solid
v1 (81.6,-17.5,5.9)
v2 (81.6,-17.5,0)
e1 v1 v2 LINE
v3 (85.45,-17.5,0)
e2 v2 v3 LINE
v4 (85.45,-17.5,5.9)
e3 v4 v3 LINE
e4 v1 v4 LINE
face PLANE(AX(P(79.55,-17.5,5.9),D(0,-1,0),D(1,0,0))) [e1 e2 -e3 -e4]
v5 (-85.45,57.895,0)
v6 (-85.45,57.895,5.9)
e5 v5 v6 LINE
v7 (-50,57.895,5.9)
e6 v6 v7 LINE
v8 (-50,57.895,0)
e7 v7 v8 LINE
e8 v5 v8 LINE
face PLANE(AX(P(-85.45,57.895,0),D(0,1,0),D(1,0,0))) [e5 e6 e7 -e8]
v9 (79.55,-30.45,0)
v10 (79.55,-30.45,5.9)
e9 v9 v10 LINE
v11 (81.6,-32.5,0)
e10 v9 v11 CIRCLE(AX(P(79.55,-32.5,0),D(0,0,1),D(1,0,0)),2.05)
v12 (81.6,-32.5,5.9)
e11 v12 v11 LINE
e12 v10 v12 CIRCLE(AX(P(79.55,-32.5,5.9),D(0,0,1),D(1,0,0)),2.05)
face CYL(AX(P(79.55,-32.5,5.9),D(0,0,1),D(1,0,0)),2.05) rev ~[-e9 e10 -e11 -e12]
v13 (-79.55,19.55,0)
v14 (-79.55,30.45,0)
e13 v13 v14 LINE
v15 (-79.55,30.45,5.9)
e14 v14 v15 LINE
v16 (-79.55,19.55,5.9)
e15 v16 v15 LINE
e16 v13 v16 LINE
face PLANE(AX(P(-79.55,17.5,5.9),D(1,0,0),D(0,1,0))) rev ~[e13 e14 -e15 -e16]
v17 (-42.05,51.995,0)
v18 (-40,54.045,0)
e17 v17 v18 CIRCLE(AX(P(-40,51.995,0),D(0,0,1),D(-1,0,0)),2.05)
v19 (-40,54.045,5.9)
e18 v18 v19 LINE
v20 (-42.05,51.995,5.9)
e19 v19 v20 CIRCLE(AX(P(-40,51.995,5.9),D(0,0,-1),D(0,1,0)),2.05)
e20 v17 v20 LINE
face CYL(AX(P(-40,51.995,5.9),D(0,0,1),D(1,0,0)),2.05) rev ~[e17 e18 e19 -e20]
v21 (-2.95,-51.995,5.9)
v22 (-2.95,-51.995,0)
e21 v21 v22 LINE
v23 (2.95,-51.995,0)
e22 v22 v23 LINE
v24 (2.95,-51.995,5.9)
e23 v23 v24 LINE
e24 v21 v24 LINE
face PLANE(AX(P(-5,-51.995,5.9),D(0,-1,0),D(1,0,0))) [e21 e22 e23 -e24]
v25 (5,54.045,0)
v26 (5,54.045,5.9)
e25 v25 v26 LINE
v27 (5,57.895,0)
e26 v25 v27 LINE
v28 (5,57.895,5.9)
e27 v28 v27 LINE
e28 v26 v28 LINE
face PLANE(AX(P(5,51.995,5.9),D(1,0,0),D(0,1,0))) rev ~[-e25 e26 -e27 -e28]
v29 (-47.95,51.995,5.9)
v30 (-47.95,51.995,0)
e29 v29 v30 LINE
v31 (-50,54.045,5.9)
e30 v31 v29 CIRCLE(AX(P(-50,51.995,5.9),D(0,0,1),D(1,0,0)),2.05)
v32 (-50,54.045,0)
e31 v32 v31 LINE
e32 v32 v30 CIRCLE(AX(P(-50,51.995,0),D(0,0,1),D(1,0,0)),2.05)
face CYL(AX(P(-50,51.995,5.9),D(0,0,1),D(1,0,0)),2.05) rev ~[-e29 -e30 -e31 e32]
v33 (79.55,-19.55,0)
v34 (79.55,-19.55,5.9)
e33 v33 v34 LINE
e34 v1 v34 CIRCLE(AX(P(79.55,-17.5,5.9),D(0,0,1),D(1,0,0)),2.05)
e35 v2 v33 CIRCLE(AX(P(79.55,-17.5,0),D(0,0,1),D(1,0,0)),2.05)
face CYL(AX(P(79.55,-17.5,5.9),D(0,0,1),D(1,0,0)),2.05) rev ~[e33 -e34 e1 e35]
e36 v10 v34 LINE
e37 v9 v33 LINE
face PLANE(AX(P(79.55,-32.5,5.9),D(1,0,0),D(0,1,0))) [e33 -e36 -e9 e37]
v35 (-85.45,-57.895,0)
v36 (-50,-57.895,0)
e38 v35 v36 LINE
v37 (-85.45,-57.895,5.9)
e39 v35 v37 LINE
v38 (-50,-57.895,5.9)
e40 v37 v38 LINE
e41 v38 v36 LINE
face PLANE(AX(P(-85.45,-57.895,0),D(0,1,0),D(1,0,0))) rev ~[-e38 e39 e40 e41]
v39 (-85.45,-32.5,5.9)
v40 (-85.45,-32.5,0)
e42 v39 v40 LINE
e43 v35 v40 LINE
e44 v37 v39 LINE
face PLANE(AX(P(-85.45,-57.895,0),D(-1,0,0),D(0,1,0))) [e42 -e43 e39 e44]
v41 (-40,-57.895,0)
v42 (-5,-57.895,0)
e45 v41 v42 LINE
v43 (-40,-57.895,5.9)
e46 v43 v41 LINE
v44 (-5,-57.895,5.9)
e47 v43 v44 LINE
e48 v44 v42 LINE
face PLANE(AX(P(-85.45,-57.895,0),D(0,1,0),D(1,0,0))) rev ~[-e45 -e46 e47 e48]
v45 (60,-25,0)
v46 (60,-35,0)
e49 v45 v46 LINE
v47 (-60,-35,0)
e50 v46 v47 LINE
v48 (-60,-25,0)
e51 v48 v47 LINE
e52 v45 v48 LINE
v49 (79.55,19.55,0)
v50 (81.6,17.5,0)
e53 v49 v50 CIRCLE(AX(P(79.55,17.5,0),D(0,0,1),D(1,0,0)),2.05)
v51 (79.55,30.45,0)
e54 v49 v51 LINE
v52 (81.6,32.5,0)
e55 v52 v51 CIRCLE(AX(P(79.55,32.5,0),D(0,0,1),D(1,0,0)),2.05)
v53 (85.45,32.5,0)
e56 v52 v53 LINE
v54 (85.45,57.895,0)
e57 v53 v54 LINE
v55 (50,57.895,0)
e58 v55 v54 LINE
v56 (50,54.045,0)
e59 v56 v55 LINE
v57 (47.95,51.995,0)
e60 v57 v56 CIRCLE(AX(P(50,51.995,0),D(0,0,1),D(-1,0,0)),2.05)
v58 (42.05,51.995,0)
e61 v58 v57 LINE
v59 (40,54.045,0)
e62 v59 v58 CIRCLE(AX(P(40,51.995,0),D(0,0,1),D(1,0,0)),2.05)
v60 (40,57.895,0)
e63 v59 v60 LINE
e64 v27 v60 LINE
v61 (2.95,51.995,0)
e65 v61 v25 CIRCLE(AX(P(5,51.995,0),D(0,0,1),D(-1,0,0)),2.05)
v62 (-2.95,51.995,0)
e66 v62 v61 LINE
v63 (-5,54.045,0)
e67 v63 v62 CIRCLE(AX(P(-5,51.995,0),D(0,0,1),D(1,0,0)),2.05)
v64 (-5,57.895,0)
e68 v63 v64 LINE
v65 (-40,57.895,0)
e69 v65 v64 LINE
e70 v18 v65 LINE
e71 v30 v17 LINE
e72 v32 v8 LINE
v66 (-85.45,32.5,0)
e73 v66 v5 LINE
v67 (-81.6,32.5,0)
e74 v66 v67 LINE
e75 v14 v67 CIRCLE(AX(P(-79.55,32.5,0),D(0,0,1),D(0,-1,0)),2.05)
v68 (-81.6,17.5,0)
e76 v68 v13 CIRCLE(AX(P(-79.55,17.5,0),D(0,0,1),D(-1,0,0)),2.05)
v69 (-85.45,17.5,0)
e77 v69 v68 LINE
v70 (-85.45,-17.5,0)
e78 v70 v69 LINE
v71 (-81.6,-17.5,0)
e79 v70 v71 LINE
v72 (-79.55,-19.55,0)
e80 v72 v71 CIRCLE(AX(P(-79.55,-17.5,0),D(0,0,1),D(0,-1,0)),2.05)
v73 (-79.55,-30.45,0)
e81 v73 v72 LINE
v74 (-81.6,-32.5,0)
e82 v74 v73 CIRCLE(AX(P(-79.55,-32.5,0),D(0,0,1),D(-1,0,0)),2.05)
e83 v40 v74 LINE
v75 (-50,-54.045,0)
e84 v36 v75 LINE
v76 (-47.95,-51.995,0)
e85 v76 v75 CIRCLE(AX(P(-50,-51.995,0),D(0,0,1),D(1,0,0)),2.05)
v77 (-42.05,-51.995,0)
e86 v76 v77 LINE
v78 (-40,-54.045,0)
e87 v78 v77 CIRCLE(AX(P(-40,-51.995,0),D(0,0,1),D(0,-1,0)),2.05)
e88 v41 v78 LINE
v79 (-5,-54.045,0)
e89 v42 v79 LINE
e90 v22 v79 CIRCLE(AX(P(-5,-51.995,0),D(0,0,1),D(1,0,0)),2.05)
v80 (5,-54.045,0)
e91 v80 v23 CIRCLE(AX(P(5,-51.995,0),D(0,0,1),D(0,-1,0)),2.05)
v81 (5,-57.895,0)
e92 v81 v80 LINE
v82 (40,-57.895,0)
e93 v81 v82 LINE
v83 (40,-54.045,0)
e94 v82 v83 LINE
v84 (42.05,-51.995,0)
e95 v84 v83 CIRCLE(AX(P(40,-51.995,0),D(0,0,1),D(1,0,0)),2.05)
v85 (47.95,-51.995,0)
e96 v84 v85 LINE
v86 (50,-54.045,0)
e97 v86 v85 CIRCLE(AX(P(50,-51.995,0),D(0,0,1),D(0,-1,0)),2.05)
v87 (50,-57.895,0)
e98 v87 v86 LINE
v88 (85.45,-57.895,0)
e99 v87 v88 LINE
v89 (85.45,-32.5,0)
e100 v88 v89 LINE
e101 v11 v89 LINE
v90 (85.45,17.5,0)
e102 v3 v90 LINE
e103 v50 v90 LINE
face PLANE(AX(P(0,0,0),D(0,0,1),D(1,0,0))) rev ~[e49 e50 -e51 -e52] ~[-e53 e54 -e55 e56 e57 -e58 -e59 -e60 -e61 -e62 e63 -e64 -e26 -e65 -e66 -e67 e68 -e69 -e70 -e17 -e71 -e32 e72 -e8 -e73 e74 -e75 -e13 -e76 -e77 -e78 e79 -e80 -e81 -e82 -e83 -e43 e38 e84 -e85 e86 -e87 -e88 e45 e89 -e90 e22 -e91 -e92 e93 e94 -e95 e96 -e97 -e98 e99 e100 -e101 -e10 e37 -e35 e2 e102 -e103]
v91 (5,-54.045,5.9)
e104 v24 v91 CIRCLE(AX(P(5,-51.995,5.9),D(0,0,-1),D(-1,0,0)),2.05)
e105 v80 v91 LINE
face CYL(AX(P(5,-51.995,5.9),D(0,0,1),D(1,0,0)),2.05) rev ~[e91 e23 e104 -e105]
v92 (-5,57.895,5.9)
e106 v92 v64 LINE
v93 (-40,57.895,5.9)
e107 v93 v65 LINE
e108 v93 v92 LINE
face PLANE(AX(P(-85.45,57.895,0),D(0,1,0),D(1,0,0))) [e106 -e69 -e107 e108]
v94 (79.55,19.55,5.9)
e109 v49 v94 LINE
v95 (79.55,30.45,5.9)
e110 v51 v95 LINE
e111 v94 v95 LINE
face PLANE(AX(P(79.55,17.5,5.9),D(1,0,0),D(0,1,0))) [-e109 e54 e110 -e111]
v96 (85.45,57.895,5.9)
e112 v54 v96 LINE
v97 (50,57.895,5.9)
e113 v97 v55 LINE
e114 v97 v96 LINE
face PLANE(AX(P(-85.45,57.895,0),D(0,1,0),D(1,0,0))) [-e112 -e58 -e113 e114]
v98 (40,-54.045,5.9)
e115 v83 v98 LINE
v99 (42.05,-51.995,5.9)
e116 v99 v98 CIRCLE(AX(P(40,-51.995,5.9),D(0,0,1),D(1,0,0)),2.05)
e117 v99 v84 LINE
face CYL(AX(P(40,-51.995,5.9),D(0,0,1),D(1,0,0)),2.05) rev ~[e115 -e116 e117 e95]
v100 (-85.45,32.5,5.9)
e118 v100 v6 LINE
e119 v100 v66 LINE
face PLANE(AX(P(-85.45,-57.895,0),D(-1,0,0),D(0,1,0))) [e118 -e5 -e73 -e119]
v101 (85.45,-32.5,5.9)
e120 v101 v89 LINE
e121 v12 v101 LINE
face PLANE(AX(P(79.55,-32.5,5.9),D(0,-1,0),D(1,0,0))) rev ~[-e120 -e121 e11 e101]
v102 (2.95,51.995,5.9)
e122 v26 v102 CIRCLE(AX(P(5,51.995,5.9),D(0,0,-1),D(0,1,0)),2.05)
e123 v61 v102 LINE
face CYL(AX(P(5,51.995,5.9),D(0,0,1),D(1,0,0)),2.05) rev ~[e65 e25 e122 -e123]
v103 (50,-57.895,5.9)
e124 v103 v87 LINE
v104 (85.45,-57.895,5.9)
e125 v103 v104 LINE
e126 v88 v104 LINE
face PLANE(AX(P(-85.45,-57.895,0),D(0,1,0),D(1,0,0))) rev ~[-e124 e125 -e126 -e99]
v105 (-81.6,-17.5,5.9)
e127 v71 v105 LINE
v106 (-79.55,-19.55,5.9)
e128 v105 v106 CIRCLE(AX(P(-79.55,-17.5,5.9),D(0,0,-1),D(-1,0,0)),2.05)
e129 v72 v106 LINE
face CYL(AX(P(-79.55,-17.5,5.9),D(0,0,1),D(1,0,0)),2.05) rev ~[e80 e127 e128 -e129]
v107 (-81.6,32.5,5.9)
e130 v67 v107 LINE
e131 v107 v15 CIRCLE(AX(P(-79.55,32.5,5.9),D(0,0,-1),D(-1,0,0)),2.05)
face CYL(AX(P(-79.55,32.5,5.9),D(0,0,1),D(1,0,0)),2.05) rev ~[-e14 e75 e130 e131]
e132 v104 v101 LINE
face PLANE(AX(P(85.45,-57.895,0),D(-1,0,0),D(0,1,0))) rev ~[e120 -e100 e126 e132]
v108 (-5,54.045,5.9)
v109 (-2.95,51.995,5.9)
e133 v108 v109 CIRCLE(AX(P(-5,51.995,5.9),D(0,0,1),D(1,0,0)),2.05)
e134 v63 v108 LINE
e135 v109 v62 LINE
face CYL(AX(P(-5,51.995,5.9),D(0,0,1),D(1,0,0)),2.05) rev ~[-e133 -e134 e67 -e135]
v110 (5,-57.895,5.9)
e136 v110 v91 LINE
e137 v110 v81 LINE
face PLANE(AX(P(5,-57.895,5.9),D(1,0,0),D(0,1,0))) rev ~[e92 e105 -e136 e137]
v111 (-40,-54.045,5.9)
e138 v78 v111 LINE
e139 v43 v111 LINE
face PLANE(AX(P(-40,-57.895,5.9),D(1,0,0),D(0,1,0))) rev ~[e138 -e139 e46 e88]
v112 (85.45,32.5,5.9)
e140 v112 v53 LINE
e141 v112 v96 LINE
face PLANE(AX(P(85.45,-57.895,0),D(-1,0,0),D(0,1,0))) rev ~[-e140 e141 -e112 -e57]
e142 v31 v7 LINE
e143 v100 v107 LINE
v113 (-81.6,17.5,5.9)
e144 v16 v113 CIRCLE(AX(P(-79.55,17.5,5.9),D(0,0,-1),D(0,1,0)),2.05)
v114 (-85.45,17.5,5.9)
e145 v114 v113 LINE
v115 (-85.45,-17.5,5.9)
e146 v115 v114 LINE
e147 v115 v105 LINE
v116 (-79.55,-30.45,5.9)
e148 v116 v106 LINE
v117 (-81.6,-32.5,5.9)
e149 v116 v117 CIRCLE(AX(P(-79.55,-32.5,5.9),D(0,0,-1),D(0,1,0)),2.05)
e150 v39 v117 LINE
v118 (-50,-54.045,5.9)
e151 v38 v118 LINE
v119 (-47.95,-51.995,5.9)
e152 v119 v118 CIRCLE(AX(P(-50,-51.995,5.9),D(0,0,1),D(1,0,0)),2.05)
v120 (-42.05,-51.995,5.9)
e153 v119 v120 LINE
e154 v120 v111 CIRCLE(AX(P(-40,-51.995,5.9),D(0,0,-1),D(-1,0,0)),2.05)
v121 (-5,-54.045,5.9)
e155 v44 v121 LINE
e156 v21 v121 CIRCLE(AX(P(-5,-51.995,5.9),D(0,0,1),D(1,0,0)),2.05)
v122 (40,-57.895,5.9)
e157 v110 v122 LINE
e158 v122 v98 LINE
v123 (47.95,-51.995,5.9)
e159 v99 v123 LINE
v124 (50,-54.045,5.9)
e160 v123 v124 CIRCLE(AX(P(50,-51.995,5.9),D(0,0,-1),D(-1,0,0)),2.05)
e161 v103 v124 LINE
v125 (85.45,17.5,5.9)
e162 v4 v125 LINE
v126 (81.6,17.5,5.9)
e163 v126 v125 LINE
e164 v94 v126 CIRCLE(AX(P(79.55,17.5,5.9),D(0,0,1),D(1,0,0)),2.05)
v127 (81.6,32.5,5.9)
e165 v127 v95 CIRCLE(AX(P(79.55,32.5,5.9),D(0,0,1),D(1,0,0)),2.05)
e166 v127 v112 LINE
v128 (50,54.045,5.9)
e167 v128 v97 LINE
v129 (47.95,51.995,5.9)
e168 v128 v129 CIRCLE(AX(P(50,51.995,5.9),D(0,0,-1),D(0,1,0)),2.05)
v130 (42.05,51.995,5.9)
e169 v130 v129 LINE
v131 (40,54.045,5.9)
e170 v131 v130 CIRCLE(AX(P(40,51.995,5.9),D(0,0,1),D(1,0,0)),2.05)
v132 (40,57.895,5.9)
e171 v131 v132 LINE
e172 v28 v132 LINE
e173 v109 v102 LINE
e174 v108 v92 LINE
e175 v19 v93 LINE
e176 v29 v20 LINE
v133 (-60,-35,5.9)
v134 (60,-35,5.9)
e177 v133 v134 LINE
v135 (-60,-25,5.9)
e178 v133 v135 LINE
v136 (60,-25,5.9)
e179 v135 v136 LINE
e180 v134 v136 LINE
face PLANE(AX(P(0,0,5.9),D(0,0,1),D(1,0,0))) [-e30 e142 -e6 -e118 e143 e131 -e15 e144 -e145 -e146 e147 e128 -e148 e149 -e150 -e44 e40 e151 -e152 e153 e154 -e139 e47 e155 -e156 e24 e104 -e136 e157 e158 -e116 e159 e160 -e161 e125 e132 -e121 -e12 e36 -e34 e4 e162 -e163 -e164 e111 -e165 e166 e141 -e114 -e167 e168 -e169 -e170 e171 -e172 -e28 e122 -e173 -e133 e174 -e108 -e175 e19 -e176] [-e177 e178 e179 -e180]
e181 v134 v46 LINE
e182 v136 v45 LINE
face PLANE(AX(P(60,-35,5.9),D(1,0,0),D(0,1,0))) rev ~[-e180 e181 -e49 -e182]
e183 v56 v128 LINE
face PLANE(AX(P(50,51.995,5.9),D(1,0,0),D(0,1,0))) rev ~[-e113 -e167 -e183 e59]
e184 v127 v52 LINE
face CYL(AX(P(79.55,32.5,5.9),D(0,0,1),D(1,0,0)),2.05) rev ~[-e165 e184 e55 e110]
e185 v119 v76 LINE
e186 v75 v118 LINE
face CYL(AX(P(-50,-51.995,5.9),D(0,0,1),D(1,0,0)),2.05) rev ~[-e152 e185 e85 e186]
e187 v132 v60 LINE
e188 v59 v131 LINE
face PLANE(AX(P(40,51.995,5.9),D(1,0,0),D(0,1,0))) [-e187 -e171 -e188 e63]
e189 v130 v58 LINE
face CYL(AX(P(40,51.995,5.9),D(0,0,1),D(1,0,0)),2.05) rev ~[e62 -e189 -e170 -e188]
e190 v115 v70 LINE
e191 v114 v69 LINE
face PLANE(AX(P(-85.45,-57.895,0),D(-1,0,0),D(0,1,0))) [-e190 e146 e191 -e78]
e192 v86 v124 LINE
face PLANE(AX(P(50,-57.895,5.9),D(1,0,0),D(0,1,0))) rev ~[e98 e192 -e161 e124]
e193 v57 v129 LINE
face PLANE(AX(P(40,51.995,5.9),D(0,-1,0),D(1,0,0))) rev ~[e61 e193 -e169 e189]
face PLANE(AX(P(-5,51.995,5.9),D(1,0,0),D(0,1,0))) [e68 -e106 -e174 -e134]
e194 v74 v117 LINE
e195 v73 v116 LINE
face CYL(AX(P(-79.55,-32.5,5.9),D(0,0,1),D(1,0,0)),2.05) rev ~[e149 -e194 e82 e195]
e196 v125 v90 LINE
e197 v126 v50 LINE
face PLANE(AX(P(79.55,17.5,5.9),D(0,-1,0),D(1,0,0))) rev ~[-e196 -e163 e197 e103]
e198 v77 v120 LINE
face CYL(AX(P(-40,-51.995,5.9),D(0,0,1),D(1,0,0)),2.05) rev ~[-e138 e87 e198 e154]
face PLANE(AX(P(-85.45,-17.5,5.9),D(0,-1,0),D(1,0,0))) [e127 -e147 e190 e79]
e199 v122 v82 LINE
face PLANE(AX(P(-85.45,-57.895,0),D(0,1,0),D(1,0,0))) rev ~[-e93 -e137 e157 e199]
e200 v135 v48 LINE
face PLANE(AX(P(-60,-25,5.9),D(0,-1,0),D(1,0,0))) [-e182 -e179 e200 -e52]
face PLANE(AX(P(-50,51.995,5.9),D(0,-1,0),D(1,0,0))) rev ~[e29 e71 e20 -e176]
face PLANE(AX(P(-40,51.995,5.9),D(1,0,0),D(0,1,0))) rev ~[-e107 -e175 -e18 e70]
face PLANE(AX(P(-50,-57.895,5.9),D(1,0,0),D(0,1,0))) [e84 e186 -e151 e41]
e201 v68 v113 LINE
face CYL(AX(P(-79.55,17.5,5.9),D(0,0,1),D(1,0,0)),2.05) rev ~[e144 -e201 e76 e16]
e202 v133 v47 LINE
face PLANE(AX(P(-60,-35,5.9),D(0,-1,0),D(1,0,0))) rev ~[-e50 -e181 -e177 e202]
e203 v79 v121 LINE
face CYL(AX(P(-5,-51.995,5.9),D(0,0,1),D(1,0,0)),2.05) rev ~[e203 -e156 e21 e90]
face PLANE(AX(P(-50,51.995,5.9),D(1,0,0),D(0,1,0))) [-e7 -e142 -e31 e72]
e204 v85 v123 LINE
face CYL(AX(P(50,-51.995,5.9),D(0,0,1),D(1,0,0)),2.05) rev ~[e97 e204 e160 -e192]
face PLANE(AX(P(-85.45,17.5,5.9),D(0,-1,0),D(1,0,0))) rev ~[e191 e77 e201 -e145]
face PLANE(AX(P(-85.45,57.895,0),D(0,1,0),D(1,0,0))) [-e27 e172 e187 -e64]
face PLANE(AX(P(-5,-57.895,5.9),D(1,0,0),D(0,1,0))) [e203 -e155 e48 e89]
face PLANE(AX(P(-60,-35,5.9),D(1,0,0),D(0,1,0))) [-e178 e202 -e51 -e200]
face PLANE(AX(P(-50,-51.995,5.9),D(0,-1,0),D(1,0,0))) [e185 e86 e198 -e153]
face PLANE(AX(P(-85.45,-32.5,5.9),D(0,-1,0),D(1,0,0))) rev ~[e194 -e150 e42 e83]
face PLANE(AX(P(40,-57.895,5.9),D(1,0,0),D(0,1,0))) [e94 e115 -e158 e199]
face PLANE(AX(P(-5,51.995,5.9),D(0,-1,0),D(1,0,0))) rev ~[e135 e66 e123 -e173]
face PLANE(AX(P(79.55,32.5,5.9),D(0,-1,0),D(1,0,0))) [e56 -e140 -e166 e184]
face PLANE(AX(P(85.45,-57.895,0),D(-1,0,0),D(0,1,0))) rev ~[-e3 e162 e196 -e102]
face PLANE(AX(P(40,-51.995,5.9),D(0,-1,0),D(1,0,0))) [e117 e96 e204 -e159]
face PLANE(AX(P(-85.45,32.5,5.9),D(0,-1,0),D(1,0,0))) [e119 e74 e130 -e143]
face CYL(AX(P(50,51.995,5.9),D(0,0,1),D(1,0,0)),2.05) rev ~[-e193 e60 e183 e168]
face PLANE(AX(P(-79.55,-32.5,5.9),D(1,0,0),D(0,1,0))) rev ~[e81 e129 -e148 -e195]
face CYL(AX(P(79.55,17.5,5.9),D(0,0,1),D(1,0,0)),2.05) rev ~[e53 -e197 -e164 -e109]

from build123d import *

# Parameters (mm, degrees)
SKETCH1_W           = 170.9
SKETCH1_H           = 115.79
BOSS_EXTRUDE1_DEPTH = 5.9
SKETCH2_W           = 5.9
SKETCH2_H           = 15
SKETCH2_W_2         = 10
SKETCH2_H_2         = 5.9
CUT_EXTRUDE1_DEPTH  = 6.9
CUT_EXTRUDE2_REACH  = 7.9
SKETCH4_W           = 120
SKETCH4_H           = 10
CUT_EXTRUDE3_REACH  = 7.9
SKETCH5_R           = 2.05


with BuildPart() as part:
    # Sketch1 → Boss-Extrude1 (new body)
    with BuildSketch(Plane.XY):
        Rectangle(SKETCH1_W, SKETCH1_H)
    extrude(amount=BOSS_EXTRUDE1_DEPTH)

    # Sketch2 → Cut-Extrude1 (cut, through all)
    with BuildSketch(Plane.XY.offset(5.9)):
        with Locations((-82.5, 25)):
            Rectangle(SKETCH2_W, SKETCH2_H)
        with Locations((-82.5, -25)):
            Rectangle(SKETCH2_W, SKETCH2_H)
        with Locations((82.5, -25)):
            Rectangle(SKETCH2_W, SKETCH2_H)
        with Locations((82.5, 25)):
            Rectangle(SKETCH2_W, SKETCH2_H)
        with Locations((-45, 54.945)):
            Rectangle(SKETCH2_W_2, SKETCH2_H_2)
        with Locations((0, 54.945)):
            Rectangle(SKETCH2_W_2, SKETCH2_H_2)
        with Locations((45, 54.945)):
            Rectangle(SKETCH2_W_2, SKETCH2_H_2)
        with Locations((45, -54.945)):
            Rectangle(SKETCH2_W_2, SKETCH2_H_2)
        with Locations((0, -54.945)):
            Rectangle(SKETCH2_W_2, SKETCH2_H_2)
        with Locations((-45, -54.945)):
            Rectangle(SKETCH2_W_2, SKETCH2_H_2)
    extrude(amount=-CUT_EXTRUDE1_DEPTH, mode=Mode.SUBTRACT)

    # Sketch4 → Cut-Extrude2 (cut, up to next)
    with BuildSketch(Plane.XY.offset(5.9), mode=Mode.PRIVATE) as cut_extrude2_sk1:
        with Locations((0, -30)):
            Rectangle(SKETCH4_W, SKETCH4_H)
    cut_extrude2_tool1 = extrude(cut_extrude2_sk1.sketch, amount=-CUT_EXTRUDE2_REACH, mode=Mode.PRIVATE) & part.part
    add(cut_extrude2_tool1.solids().sort_by_distance((0, -30, 5.9))[0], mode=Mode.SUBTRACT)

    # Sketch5 → Cut-Extrude3 (cut, up to next)
    with BuildSketch(Plane.XY.offset(5.9), mode=Mode.PRIVATE) as cut_extrude3_sk1:
        with Locations((-50, 51.995)):
            Circle(SKETCH5_R)
    cut_extrude3_tool1 = extrude(cut_extrude3_sk1.sketch, amount=-CUT_EXTRUDE3_REACH, mode=Mode.PRIVATE) & part.part
    add(cut_extrude3_tool1.solids().sort_by_distance((-50, 51.995, 5.9))[0], mode=Mode.SUBTRACT)
    # Sketch5 → Cut-Extrude3 (cut, up to next)
    with BuildSketch(Plane.XY.offset(5.9), mode=Mode.PRIVATE) as cut_extrude3_sk2:
        with Locations((-40, 51.995)):
            Circle(SKETCH5_R)
    cut_extrude3_tool2 = extrude(cut_extrude3_sk2.sketch, amount=-CUT_EXTRUDE3_REACH, mode=Mode.PRIVATE) & part.part
    add(cut_extrude3_tool2.solids().sort_by_distance((-40, 51.995, 5.9))[0], mode=Mode.SUBTRACT)
    # Sketch5 → Cut-Extrude3 (cut, up to next)
    with BuildSketch(Plane.XY.offset(5.9), mode=Mode.PRIVATE) as cut_extrude3_sk3:
        with Locations((-5, 51.995)):
            Circle(SKETCH5_R)
    cut_extrude3_tool3 = extrude(cut_extrude3_sk3.sketch, amount=-CUT_EXTRUDE3_REACH, mode=Mode.PRIVATE) & part.part
    add(cut_extrude3_tool3.solids().sort_by_distance((-5, 51.995, 5.9))[0], mode=Mode.SUBTRACT)
    # Sketch5 → Cut-Extrude3 (cut, up to next)
    with BuildSketch(Plane.XY.offset(5.9), mode=Mode.PRIVATE) as cut_extrude3_sk4:
        with Locations((5, 51.995)):
            Circle(SKETCH5_R)
    cut_extrude3_tool4 = extrude(cut_extrude3_sk4.sketch, amount=-CUT_EXTRUDE3_REACH, mode=Mode.PRIVATE) & part.part
    add(cut_extrude3_tool4.solids().sort_by_distance((5, 51.995, 5.9))[0], mode=Mode.SUBTRACT)
    # Sketch5 → Cut-Extrude3 (cut, up to next)
    with BuildSketch(Plane.XY.offset(5.9), mode=Mode.PRIVATE) as cut_extrude3_sk5:
        with Locations((40, 51.995)):
            Circle(SKETCH5_R)
    cut_extrude3_tool5 = extrude(cut_extrude3_sk5.sketch, amount=-CUT_EXTRUDE3_REACH, mode=Mode.PRIVATE) & part.part
    add(cut_extrude3_tool5.solids().sort_by_distance((40, 51.995, 5.9))[0], mode=Mode.SUBTRACT)
    # Sketch5 → Cut-Extrude3 (cut, up to next)
    with BuildSketch(Plane.XY.offset(5.9), mode=Mode.PRIVATE) as cut_extrude3_sk6:
        with Locations((50, 51.995)):
            Circle(SKETCH5_R)
    cut_extrude3_tool6 = extrude(cut_extrude3_sk6.sketch, amount=-CUT_EXTRUDE3_REACH, mode=Mode.PRIVATE) & part.part
    add(cut_extrude3_tool6.solids().sort_by_distance((50, 51.995, 5.9))[0], mode=Mode.SUBTRACT)
    # Sketch5 → Cut-Extrude3 (cut, up to next)
    with BuildSketch(Plane.XY.offset(5.9), mode=Mode.PRIVATE) as cut_extrude3_sk7:
        with Locations((79.55, 32.5)):
            Circle(SKETCH5_R)
    cut_extrude3_tool7 = extrude(cut_extrude3_sk7.sketch, amount=-CUT_EXTRUDE3_REACH, mode=Mode.PRIVATE) & part.part
    add(cut_extrude3_tool7.solids().sort_by_distance((79.55, 32.5, 5.9))[0], mode=Mode.SUBTRACT)
    # Sketch5 → Cut-Extrude3 (cut, up to next)
    with BuildSketch(Plane.XY.offset(5.9), mode=Mode.PRIVATE) as cut_extrude3_sk8:
        with Locations((79.55, 17.5)):
            Circle(SKETCH5_R)
    cut_extrude3_tool8 = extrude(cut_extrude3_sk8.sketch, amount=-CUT_EXTRUDE3_REACH, mode=Mode.PRIVATE) & part.part
    add(cut_extrude3_tool8.solids().sort_by_distance((79.55, 17.5, 5.9))[0], mode=Mode.SUBTRACT)
    # Sketch5 → Cut-Extrude3 (cut, up to next)
    with BuildSketch(Plane.XY.offset(5.9), mode=Mode.PRIVATE) as cut_extrude3_sk9:
        with Locations((79.55, -17.5)):
            Circle(SKETCH5_R)
    cut_extrude3_tool9 = extrude(cut_extrude3_sk9.sketch, amount=-CUT_EXTRUDE3_REACH, mode=Mode.PRIVATE) & part.part
    add(cut_extrude3_tool9.solids().sort_by_distance((79.55, -17.5, 5.9))[0], mode=Mode.SUBTRACT)
    # Sketch5 → Cut-Extrude3 (cut, up to next)
    with BuildSketch(Plane.XY.offset(5.9), mode=Mode.PRIVATE) as cut_extrude3_sk10:
        with Locations((79.55, -32.5)):
            Circle(SKETCH5_R)
    cut_extrude3_tool10 = extrude(cut_extrude3_sk10.sketch, amount=-CUT_EXTRUDE3_REACH, mode=Mode.PRIVATE) & part.part
    add(cut_extrude3_tool10.solids().sort_by_distance((79.55, -32.5, 5.9))[0], mode=Mode.SUBTRACT)
    # Sketch5 → Cut-Extrude3 (cut, up to next)
    with BuildSketch(Plane.XY.offset(5.9), mode=Mode.PRIVATE) as cut_extrude3_sk11:
        with Locations((-40, -51.995)):
            Circle(SKETCH5_R)
    cut_extrude3_tool11 = extrude(cut_extrude3_sk11.sketch, amount=-CUT_EXTRUDE3_REACH, mode=Mode.PRIVATE) & part.part
    add(cut_extrude3_tool11.solids().sort_by_distance((-40, -51.995, 5.9))[0], mode=Mode.SUBTRACT)
    # Sketch5 → Cut-Extrude3 (cut, up to next)
    with BuildSketch(Plane.XY.offset(5.9), mode=Mode.PRIVATE) as cut_extrude3_sk12:
        with Locations((-5, -51.995)):
            Circle(SKETCH5_R)
    cut_extrude3_tool12 = extrude(cut_extrude3_sk12.sketch, amount=-CUT_EXTRUDE3_REACH, mode=Mode.PRIVATE) & part.part
    add(cut_extrude3_tool12.solids().sort_by_distance((-5, -51.995, 5.9))[0], mode=Mode.SUBTRACT)
    # Sketch5 → Cut-Extrude3 (cut, up to next)
    with BuildSketch(Plane.XY.offset(5.9), mode=Mode.PRIVATE) as cut_extrude3_sk13:
        with Locations((5, -51.995)):
            Circle(SKETCH5_R)
    cut_extrude3_tool13 = extrude(cut_extrude3_sk13.sketch, amount=-CUT_EXTRUDE3_REACH, mode=Mode.PRIVATE) & part.part
    add(cut_extrude3_tool13.solids().sort_by_distance((5, -51.995, 5.9))[0], mode=Mode.SUBTRACT)
    # Sketch5 → Cut-Extrude3 (cut, up to next)
    with BuildSketch(Plane.XY.offset(5.9), mode=Mode.PRIVATE) as cut_extrude3_sk14:
        with Locations((40, -51.995)):
            Circle(SKETCH5_R)
    cut_extrude3_tool14 = extrude(cut_extrude3_sk14.sketch, amount=-CUT_EXTRUDE3_REACH, mode=Mode.PRIVATE) & part.part
    add(cut_extrude3_tool14.solids().sort_by_distance((40, -51.995, 5.9))[0], mode=Mode.SUBTRACT)
    # Sketch5 → Cut-Extrude3 (cut, up to next)
    with BuildSketch(Plane.XY.offset(5.9), mode=Mode.PRIVATE) as cut_extrude3_sk15:
        with Locations((50, -51.995)):
            Circle(SKETCH5_R)
    cut_extrude3_tool15 = extrude(cut_extrude3_sk15.sketch, amount=-CUT_EXTRUDE3_REACH, mode=Mode.PRIVATE) & part.part
    add(cut_extrude3_tool15.solids().sort_by_distance((50, -51.995, 5.9))[0], mode=Mode.SUBTRACT)
    # Sketch5 → Cut-Extrude3 (cut, up to next)
    with BuildSketch(Plane.XY.offset(5.9), mode=Mode.PRIVATE) as cut_extrude3_sk16:
        with Locations((-50, -51.995)):
            Circle(SKETCH5_R)
    cut_extrude3_tool16 = extrude(cut_extrude3_sk16.sketch, amount=-CUT_EXTRUDE3_REACH, mode=Mode.PRIVATE) & part.part
    add(cut_extrude3_tool16.solids().sort_by_distance((-50, -51.995, 5.9))[0], mode=Mode.SUBTRACT)
    # Sketch5 → Cut-Extrude3 (cut, up to next)
    with BuildSketch(Plane.XY.offset(5.9), mode=Mode.PRIVATE) as cut_extrude3_sk17:
        with Locations((-79.55, -32.5)):
            Circle(SKETCH5_R)
    cut_extrude3_tool17 = extrude(cut_extrude3_sk17.sketch, amount=-CUT_EXTRUDE3_REACH, mode=Mode.PRIVATE) & part.part
    add(cut_extrude3_tool17.solids().sort_by_distance((-79.55, -32.5, 5.9))[0], mode=Mode.SUBTRACT)
    # Sketch5 → Cut-Extrude3 (cut, up to next)
    with BuildSketch(Plane.XY.offset(5.9), mode=Mode.PRIVATE) as cut_extrude3_sk18:
        with Locations((-79.55, -17.5)):
            Circle(SKETCH5_R)
    cut_extrude3_tool18 = extrude(cut_extrude3_sk18.sketch, amount=-CUT_EXTRUDE3_REACH, mode=Mode.PRIVATE) & part.part
    add(cut_extrude3_tool18.solids().sort_by_distance((-79.55, -17.5, 5.9))[0], mode=Mode.SUBTRACT)
    # Sketch5 → Cut-Extrude3 (cut, up to next)
    with BuildSketch(Plane.XY.offset(5.9), mode=Mode.PRIVATE) as cut_extrude3_sk19:
        with Locations((-79.55, 17.5)):
            Circle(SKETCH5_R)
    cut_extrude3_tool19 = extrude(cut_extrude3_sk19.sketch, amount=-CUT_EXTRUDE3_REACH, mode=Mode.PRIVATE) & part.part
    add(cut_extrude3_tool19.solids().sort_by_distance((-79.55, 17.5, 5.9))[0], mode=Mode.SUBTRACT)
    # Sketch5 → Cut-Extrude3 (cut, up to next)
    with BuildSketch(Plane.XY.offset(5.9), mode=Mode.PRIVATE) as cut_extrude3_sk20:
        with Locations((-79.55, 32.5)):
            Circle(SKETCH5_R)
    cut_extrude3_tool20 = extrude(cut_extrude3_sk20.sketch, amount=-CUT_EXTRUDE3_REACH, mode=Mode.PRIVATE) & part.part
    add(cut_extrude3_tool20.solids().sort_by_distance((-79.55, 32.5, 5.9))[0], mode=Mode.SUBTRACT)


solid = part.part
